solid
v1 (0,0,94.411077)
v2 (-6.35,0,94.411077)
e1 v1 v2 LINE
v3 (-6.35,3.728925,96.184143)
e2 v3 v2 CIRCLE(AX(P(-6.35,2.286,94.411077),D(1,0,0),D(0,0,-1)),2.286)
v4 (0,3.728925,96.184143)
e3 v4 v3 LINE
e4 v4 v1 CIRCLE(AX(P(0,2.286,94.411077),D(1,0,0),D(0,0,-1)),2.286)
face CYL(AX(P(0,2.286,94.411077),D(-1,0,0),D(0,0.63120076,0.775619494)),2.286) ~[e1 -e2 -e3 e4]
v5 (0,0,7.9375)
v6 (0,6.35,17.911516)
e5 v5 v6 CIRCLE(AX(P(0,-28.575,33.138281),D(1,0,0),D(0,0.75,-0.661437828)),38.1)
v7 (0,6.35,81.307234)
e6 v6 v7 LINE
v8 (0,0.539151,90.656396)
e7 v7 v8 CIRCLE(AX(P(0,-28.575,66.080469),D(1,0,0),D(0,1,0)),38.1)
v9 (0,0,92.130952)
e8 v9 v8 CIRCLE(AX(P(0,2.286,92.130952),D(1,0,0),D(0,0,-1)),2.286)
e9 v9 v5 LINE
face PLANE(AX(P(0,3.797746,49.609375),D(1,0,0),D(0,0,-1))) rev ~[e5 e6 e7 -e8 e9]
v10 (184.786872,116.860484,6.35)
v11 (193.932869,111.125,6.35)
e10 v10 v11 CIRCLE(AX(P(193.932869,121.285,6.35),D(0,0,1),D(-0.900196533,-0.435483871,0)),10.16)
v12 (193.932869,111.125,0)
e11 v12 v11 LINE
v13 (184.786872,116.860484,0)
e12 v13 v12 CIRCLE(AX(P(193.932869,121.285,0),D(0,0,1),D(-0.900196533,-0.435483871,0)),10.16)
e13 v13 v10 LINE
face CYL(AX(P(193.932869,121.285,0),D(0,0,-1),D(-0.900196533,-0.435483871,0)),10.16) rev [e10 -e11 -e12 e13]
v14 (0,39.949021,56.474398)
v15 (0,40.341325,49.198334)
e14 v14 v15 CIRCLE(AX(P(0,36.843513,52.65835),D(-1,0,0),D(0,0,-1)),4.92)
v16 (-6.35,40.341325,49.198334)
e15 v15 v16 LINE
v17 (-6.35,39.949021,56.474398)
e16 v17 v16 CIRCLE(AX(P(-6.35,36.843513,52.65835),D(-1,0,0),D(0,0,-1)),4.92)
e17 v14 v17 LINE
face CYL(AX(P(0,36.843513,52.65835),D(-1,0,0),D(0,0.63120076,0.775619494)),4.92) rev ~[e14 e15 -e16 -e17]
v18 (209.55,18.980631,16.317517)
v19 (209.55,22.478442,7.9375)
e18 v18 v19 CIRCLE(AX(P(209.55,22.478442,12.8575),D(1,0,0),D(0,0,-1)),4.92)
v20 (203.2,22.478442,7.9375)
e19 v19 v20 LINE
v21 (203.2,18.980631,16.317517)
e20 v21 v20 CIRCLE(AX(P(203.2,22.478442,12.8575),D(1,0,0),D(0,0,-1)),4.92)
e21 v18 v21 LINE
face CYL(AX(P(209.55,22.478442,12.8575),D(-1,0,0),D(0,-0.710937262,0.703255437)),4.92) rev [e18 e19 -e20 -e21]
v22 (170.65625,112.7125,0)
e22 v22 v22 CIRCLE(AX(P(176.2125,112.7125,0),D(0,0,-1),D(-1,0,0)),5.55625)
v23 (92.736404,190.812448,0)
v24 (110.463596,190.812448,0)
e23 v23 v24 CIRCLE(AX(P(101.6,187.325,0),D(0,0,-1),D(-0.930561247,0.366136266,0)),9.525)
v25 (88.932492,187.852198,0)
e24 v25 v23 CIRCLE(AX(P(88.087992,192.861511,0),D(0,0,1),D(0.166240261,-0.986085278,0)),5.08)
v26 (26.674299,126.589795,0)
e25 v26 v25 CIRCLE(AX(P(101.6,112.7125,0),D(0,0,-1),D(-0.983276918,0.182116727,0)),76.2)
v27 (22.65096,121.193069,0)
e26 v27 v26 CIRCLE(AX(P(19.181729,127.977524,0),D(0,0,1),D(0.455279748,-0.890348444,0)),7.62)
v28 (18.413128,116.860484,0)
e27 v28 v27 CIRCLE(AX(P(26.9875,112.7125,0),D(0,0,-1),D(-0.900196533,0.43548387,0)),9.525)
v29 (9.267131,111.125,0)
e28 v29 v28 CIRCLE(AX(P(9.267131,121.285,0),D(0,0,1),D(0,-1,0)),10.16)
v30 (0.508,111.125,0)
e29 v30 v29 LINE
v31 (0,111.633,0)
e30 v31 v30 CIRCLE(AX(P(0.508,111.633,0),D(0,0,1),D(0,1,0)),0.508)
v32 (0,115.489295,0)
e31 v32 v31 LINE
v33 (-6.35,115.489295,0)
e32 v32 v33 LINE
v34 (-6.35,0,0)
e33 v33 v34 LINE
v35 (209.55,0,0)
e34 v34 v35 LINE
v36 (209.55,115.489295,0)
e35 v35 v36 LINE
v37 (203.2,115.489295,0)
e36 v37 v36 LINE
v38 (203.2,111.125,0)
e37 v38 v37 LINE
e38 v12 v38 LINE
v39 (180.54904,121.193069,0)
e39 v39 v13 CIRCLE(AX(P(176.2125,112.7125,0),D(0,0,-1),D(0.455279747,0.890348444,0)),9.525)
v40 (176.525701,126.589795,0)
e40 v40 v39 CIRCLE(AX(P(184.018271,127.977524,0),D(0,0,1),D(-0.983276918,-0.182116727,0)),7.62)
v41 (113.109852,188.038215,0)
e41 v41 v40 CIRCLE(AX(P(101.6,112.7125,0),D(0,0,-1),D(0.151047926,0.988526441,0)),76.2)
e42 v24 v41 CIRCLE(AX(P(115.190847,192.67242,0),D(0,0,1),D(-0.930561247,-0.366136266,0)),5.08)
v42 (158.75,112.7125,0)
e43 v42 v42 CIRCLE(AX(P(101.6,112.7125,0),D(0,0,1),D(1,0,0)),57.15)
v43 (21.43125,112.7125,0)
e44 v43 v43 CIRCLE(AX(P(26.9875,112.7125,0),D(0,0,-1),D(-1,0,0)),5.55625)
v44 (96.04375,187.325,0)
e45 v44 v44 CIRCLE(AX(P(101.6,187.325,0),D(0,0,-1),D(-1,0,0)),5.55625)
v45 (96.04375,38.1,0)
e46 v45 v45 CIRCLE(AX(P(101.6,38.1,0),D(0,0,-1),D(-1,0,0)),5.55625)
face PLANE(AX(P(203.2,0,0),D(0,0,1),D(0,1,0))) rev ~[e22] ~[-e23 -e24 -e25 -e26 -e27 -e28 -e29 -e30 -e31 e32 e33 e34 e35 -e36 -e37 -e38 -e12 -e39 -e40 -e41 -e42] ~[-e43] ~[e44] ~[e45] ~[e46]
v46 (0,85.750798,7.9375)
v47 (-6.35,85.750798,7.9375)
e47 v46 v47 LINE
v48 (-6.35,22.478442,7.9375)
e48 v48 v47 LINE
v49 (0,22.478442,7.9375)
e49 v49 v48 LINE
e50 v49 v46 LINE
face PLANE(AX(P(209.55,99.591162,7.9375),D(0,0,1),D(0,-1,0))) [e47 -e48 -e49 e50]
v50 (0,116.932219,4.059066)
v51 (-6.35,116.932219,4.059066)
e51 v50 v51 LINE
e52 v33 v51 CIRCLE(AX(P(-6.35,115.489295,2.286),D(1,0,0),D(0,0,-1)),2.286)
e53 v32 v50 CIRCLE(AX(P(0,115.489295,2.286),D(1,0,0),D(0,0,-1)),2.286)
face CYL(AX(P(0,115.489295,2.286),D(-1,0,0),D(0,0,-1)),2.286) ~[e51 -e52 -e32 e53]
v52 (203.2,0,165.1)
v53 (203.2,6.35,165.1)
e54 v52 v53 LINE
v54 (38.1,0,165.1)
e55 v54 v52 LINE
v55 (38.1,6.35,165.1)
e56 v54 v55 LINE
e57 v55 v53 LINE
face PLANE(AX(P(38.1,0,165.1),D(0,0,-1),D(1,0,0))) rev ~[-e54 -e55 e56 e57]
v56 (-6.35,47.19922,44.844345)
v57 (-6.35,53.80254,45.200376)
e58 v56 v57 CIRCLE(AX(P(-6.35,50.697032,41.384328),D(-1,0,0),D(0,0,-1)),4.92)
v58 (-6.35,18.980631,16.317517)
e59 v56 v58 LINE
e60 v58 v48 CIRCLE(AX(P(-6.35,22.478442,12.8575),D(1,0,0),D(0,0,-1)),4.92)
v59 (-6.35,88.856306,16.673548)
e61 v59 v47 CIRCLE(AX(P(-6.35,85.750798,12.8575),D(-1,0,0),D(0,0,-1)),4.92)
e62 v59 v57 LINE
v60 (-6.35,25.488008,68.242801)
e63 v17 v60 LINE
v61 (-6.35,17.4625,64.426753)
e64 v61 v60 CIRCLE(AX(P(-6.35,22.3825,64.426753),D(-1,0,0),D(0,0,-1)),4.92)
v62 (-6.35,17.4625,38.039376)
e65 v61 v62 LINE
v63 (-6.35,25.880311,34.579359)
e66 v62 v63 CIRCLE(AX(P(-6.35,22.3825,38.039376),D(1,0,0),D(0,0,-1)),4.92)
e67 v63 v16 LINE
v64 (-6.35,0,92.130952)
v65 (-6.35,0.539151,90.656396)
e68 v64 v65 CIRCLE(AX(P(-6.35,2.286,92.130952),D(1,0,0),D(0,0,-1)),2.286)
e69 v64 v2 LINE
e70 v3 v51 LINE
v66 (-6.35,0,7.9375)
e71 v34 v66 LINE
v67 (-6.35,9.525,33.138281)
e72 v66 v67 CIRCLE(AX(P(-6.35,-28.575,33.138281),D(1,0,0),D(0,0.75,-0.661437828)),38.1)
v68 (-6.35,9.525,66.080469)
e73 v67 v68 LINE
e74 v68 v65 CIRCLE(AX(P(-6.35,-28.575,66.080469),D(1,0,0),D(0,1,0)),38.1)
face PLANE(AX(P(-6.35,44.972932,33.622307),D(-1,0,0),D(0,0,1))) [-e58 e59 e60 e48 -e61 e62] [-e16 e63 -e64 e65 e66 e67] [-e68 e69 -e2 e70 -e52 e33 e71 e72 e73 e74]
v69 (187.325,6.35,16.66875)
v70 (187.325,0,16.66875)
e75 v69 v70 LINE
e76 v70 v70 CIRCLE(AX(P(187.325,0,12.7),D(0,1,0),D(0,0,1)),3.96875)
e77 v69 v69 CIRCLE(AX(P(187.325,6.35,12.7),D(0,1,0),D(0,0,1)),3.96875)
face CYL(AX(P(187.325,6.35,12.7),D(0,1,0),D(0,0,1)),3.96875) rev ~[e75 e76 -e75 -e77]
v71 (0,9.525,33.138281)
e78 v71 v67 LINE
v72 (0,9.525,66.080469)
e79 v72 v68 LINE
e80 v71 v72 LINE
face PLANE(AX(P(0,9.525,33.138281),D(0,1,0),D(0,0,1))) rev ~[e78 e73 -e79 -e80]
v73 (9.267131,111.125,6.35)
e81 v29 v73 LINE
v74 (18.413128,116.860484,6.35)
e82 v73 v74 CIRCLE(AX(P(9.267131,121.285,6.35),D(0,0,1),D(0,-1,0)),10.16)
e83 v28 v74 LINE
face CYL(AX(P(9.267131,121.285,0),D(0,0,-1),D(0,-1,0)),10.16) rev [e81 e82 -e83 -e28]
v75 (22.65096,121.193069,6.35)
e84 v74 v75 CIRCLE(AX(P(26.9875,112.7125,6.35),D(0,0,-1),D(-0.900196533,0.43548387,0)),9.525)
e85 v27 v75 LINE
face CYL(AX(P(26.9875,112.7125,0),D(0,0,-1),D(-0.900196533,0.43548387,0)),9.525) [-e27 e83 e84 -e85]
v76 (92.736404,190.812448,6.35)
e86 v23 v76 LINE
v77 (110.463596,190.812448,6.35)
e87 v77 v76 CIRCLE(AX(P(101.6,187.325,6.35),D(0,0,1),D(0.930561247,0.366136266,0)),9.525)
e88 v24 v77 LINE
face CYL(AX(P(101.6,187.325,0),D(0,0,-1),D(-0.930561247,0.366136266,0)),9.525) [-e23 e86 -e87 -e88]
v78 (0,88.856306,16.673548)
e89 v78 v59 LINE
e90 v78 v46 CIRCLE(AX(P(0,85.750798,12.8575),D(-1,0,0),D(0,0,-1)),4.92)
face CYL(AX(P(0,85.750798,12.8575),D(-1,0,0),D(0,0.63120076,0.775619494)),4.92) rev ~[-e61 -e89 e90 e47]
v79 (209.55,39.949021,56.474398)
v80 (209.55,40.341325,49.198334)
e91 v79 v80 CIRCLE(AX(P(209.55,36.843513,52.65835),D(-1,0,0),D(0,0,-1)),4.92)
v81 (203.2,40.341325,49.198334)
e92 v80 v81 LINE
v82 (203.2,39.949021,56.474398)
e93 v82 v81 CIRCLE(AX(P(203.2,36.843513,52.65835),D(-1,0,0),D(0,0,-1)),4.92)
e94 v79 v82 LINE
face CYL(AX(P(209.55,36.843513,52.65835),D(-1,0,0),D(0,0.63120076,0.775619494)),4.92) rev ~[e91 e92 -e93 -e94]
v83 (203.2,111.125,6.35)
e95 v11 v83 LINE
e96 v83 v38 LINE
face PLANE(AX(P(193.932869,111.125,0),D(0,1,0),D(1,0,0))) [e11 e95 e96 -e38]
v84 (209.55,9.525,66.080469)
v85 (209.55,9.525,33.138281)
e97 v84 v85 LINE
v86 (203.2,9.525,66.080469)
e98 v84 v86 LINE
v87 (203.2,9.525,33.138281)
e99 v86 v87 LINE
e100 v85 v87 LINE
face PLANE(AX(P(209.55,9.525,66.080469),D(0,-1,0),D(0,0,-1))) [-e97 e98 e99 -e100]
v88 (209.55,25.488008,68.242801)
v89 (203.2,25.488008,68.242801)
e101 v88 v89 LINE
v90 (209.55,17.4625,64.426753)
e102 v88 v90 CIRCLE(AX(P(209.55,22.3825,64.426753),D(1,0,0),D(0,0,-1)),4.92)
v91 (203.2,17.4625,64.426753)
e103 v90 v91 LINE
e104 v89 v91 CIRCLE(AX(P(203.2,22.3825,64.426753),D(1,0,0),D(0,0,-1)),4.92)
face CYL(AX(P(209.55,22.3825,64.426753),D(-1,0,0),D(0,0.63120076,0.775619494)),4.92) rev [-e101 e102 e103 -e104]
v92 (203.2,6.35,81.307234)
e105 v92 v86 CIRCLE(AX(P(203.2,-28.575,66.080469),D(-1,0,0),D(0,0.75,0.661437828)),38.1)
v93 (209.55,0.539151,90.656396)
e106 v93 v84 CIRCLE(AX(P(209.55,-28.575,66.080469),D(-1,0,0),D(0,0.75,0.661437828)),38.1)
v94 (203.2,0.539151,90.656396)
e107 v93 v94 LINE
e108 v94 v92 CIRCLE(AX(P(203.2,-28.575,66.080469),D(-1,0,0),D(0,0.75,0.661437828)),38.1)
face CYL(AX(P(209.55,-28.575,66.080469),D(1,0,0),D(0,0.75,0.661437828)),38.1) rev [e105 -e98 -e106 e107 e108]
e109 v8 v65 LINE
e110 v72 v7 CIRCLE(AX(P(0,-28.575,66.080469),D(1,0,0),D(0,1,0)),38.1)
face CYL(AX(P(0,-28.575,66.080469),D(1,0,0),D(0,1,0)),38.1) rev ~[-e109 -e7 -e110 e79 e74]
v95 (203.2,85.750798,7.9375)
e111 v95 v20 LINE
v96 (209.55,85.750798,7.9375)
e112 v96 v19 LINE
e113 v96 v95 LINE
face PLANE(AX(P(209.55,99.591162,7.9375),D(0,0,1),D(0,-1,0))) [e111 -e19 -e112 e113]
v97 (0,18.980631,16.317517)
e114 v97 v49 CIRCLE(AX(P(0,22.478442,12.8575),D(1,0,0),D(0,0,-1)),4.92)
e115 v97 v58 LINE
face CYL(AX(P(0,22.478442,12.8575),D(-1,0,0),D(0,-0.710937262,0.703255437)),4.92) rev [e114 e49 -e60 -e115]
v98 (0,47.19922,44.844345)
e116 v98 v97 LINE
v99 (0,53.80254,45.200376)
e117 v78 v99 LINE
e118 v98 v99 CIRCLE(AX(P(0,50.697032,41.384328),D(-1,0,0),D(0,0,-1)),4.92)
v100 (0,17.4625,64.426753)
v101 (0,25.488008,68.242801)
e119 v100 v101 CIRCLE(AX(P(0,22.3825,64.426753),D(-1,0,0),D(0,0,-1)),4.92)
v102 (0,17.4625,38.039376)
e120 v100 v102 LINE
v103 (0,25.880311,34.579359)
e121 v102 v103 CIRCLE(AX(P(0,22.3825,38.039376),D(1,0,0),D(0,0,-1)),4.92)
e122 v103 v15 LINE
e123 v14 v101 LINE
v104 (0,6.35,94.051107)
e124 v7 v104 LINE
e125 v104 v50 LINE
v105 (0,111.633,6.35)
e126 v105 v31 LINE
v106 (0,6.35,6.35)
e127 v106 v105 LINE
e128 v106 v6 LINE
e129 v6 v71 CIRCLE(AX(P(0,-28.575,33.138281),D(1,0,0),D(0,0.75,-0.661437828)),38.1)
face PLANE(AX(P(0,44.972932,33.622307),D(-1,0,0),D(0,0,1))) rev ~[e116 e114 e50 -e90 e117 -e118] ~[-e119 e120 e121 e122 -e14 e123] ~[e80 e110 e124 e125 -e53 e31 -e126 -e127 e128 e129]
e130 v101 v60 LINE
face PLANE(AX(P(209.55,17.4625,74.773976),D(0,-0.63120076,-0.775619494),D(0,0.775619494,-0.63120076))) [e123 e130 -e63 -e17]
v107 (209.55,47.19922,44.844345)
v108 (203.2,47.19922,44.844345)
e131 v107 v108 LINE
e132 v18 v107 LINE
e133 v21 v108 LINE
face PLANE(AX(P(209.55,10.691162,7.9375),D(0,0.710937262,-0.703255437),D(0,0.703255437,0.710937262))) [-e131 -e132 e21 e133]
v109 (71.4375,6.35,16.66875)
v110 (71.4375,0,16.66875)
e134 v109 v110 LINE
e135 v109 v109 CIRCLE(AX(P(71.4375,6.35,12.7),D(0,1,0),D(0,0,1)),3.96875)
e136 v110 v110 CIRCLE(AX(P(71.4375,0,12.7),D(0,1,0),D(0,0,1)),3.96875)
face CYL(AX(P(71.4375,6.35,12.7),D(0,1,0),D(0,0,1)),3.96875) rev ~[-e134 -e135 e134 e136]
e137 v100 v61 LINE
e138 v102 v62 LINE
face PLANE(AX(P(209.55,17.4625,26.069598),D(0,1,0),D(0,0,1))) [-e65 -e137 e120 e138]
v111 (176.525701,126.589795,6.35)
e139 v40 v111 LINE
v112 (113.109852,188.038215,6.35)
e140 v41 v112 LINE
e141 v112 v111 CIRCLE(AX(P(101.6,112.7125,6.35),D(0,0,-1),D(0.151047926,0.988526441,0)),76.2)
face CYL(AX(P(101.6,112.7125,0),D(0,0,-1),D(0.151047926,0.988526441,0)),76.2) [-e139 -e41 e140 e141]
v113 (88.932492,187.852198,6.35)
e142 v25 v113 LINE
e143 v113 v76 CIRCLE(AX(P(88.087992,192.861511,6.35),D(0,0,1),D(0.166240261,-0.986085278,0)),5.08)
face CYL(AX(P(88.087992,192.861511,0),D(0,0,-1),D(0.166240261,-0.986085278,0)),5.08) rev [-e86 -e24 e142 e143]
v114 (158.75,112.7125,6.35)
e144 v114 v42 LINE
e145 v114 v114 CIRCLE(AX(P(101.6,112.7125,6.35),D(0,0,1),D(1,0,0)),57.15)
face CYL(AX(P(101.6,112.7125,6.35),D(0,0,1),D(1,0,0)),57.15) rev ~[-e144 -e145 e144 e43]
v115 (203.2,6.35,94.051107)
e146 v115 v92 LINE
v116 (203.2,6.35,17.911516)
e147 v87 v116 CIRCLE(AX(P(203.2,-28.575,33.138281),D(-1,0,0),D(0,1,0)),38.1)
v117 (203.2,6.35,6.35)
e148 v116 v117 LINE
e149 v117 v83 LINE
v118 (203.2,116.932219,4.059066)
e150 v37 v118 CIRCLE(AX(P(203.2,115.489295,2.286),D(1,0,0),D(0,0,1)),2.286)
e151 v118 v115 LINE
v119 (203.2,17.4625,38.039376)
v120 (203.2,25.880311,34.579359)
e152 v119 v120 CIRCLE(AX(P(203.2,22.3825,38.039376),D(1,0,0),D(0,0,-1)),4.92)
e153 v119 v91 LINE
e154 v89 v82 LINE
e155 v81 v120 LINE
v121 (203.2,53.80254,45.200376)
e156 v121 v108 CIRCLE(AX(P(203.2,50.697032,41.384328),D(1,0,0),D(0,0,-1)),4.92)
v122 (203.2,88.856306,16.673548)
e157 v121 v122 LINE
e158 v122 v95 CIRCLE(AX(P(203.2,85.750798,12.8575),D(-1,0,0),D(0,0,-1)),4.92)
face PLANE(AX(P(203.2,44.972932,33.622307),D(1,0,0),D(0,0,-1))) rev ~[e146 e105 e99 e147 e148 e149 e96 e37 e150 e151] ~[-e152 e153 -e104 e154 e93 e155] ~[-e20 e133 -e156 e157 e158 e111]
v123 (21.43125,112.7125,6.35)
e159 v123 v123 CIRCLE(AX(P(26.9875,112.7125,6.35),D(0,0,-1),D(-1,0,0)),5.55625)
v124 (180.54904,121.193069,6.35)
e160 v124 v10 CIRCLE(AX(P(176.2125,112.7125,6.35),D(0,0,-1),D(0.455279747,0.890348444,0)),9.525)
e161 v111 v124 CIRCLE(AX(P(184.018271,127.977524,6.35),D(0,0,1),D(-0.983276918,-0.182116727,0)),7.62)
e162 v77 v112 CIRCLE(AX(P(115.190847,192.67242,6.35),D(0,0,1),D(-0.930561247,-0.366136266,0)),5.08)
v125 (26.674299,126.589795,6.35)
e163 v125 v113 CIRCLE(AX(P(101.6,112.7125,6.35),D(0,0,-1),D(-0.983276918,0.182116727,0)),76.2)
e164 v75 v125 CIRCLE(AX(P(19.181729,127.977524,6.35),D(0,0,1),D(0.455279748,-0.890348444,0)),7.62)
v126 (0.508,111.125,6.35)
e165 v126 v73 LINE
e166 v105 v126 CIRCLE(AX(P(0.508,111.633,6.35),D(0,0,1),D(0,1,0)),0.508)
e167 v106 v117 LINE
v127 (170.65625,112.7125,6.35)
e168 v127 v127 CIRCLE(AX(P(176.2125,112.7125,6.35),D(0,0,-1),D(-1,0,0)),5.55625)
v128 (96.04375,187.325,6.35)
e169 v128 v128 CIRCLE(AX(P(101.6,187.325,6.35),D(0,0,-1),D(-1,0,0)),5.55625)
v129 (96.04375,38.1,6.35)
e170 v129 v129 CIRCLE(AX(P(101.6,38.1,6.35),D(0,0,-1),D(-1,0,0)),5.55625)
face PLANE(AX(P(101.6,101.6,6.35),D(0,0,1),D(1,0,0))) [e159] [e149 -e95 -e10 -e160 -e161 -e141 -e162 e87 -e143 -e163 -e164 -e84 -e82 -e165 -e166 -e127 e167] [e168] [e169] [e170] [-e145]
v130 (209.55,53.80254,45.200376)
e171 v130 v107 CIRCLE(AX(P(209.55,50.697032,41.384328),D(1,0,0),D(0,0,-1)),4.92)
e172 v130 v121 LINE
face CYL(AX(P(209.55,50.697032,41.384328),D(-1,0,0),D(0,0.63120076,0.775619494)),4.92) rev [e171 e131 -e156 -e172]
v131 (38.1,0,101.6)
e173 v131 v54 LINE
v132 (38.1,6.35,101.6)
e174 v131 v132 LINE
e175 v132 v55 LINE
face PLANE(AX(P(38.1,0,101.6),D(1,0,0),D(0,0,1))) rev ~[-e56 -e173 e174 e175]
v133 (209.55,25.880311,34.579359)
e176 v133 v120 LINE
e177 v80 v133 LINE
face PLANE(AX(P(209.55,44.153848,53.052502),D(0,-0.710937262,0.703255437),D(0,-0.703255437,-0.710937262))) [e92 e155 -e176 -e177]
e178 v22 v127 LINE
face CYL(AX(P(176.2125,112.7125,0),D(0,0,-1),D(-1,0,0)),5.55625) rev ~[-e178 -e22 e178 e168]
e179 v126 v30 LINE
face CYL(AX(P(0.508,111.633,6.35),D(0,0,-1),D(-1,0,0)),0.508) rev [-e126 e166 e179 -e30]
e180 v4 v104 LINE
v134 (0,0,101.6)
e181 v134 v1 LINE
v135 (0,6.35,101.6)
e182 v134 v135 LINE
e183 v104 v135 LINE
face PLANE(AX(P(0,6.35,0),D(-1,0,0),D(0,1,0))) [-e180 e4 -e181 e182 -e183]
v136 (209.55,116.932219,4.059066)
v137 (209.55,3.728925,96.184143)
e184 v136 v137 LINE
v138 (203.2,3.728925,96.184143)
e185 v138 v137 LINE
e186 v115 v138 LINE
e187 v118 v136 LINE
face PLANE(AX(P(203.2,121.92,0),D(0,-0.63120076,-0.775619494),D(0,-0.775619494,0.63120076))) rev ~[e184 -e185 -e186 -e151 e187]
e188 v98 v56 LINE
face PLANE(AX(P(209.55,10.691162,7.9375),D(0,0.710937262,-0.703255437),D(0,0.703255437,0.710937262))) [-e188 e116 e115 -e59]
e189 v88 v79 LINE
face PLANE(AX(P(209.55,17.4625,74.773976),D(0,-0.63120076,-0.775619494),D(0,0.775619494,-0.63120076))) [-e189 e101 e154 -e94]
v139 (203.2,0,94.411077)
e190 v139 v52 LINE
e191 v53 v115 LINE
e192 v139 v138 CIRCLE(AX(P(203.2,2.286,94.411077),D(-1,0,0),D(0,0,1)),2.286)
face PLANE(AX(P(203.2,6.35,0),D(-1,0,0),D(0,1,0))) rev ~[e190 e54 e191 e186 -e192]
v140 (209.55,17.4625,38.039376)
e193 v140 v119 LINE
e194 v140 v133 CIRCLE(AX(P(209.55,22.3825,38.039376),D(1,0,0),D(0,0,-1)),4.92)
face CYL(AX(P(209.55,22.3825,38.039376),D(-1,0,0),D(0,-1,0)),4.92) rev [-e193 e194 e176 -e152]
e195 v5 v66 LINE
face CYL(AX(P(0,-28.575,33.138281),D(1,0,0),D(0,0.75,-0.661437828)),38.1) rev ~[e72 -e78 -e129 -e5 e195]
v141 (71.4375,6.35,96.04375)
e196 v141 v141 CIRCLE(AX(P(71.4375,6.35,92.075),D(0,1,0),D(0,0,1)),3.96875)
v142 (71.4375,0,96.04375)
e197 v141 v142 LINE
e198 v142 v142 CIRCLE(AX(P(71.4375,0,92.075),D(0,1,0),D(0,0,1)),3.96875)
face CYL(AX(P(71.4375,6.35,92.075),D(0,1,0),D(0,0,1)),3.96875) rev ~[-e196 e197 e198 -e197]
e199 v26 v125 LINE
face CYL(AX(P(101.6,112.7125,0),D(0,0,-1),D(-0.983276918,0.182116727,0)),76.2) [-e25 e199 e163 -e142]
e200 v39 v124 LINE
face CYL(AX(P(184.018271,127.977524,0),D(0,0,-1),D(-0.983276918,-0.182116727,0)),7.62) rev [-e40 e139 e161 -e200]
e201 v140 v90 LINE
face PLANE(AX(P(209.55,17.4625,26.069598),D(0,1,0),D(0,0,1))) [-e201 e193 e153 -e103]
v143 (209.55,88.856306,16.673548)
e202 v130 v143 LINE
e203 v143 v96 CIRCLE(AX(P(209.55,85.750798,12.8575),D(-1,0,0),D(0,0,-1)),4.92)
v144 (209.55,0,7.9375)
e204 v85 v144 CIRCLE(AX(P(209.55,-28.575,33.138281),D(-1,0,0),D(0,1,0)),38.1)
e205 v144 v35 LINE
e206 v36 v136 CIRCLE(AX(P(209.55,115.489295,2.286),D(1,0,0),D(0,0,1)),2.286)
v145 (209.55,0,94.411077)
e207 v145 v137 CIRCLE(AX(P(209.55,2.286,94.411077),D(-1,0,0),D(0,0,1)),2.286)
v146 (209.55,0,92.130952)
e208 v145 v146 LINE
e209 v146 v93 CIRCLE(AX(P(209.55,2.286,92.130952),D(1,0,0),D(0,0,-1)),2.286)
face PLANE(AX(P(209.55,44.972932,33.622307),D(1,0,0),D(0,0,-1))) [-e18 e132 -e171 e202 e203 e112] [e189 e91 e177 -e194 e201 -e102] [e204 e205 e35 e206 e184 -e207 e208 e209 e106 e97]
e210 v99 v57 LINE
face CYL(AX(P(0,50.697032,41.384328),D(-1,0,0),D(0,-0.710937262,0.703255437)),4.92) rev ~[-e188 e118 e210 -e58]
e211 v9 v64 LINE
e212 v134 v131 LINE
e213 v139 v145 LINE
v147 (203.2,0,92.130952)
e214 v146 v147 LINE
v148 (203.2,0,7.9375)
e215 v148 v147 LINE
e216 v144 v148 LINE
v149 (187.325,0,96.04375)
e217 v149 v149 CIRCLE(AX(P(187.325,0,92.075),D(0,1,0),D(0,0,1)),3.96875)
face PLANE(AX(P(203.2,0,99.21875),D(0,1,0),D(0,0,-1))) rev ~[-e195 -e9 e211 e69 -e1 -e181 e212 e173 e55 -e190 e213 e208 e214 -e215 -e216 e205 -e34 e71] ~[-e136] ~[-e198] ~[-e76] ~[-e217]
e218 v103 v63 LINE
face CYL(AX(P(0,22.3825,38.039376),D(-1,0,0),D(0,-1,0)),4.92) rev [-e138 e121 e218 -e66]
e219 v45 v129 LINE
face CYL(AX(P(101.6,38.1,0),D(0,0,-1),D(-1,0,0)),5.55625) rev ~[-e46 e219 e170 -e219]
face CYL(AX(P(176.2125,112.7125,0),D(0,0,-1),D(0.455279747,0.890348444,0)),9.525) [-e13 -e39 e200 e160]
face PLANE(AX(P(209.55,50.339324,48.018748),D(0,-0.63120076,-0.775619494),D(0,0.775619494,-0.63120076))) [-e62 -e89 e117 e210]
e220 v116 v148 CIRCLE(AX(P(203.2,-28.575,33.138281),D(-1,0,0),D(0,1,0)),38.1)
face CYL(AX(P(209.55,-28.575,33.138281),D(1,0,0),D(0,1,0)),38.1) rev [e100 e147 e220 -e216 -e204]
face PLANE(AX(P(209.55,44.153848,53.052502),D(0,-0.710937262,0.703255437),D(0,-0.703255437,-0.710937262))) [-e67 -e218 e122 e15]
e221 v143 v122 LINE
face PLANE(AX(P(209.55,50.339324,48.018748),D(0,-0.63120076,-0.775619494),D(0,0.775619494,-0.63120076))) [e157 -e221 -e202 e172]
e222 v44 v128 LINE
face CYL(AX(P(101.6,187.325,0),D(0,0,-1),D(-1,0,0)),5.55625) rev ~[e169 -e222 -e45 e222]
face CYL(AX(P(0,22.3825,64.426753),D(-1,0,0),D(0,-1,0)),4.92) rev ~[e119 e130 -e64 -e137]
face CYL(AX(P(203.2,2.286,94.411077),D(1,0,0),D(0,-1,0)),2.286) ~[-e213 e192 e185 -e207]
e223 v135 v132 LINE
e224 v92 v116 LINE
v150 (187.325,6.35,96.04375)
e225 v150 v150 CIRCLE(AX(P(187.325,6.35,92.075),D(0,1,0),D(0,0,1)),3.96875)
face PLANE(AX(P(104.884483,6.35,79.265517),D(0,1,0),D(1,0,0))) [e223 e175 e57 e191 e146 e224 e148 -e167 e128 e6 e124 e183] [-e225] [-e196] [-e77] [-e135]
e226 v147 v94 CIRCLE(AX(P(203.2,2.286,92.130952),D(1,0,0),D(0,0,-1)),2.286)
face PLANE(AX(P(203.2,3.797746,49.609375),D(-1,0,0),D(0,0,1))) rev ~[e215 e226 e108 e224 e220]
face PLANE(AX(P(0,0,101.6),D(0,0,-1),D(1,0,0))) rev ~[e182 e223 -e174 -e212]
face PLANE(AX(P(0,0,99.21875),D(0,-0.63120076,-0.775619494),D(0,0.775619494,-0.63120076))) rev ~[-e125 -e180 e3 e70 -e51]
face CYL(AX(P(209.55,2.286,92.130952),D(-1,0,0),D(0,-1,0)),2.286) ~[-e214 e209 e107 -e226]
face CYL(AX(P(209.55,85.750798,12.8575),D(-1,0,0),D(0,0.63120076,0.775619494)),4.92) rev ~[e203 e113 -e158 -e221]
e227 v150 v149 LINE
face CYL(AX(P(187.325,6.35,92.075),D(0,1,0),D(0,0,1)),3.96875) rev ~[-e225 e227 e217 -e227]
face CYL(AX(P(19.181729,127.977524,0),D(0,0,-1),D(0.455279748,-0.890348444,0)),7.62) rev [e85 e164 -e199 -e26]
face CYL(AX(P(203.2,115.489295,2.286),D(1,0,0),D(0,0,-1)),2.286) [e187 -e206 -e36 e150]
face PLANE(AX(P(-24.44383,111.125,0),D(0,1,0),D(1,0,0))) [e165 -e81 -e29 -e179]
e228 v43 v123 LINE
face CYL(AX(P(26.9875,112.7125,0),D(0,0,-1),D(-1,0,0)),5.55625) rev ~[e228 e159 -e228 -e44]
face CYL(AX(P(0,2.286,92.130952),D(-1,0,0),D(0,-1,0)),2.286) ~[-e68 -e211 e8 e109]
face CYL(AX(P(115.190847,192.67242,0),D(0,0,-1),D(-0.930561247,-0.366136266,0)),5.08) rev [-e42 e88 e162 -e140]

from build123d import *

# Parameters (mm, degrees)
BOSS_EXTRUDE1_DEPTH = 6.35
SKETCH3_W           = 203.2
SKETCH3_H           = 190.5
BOSS_EXTRUDE2_DEPTH = 6.35
SKETCH4_R           = 57.15
CUT_EXTRUDE1_DEPTH  = 6.35
SKETCH5_R           = 5.55625
CUT_EXTRUDE2_DEPTH  = 6.35
CUT_EXTRUDE3_DEPTH  = 6.35
SKETCH7_R           = 3.96875
CUT_EXTRUDE4_DEPTH  = 6.35
BOSS_EXTRUDE3_DEPTH = 6.35
BOSS_EXTRUDE4_DEPTH = 6.35
CUT_EXTRUDE5_DEPTH  = 6.35
CUT_EXTRUDE6_START  = -6.35
CUT_EXTRUDE6_DEPTH  = 6.35
CUT_EXTRUDE7_DEPTH  = 336.590140648
FILLET1_R           = 4.92
FILLET4_R           = 2.286
FILLET6_R           = 0.508


with BuildPart() as part:
    # Sketch2 → Boss-Extrude1 (new body)
    with BuildSketch(Plane(origin=(0, 0, 0), x_dir=(1, 0, 0), z_dir=(0, 1, 0))):
        Polygon((0, 0), (0, -101.6), (38.1, -101.6), (38.1, -165.1), (203.2, -165.1), (203.2, 0), align=None)
    extrude(amount=BOSS_EXTRUDE1_DEPTH)

    # Sketch3 → Boss-Extrude2 (add)
    with BuildSketch(Plane.XY):
        with Locations((101.6, 101.6)):
            Rectangle(SKETCH3_W, SKETCH3_H)
    extrude(amount=BOSS_EXTRUDE2_DEPTH)

    # Sketch4 → Cut-Extrude1 (cut)
    with BuildSketch(Plane.XY.offset(6.35)):
        with Locations((101.6, 112.7125)):
            Circle(SKETCH4_R)
    extrude(amount=-CUT_EXTRUDE1_DEPTH, mode=Mode.SUBTRACT)

    # Sketch5 → Cut-Extrude2 (cut)
    with BuildSketch(Plane(origin=(0, 0, 0), x_dir=(-1, 0, 0), z_dir=(0, 0, -1))):
        with Locations((-101.6, 38.1)):
            Circle(SKETCH5_R)
        with Locations((-101.6, 187.325)):
            Circle(SKETCH5_R)
        with Locations((-26.9875, 112.7125)):
            Circle(SKETCH5_R)
        with Locations((-176.2125, 112.7125)):
            Circle(SKETCH5_R)
    extrude(amount=-CUT_EXTRUDE2_DEPTH, mode=Mode.SUBTRACT)

    # Sketch6 → Cut-Extrude3 (cut)
    with BuildSketch(Plane(origin=(0, 0, 0), x_dir=(-1, 0, 0), z_dir=(0, 0, -1))):
        with BuildLine():
            Line((0, 111.125), (-9.267131247, 111.125))
            ThreePointArc((-9.267131247, 111.125), (-14.664932472, 112.677483405), (-18.413128023, 116.860483871))
            ThreePointArc((-18.413128023, 116.860483871), (-20.178261221, 119.372822234), (-22.650960402, 121.193068926))
            ThreePointArc((-22.650960402, 121.193068926), (-25.290856048, 123.423079717), (-26.674298839, 126.589794607))
            ThreePointArc((-26.674298839, 126.589794607), (-48.154578398, 167.02665018), (-88.932492132, 187.852198192))
            ThreePointArc((-88.932492132, 187.852198192), (-91.207894338, 188.852445809), (-92.736404121, 190.812447935))
            ThreePointArc((-92.736404121, 190.812447935), (-101.6, 196.85), (-110.463595879, 190.812447935))
            ThreePointArc((-110.463595879, 190.812447935), (-111.514959841, 189.166103939), (-113.109851938, 188.038214788))
            ThreePointArc((-113.109851938, 188.038214788), (-154.625968125, 167.436230725), (-176.525701161, 126.589794607))
            ThreePointArc((-176.525701161, 126.589794607), (-177.909143952, 123.423079717), (-180.549039598, 121.193068926))
            ThreePointArc((-180.549039598, 121.193068926), (-183.021738779, 119.372822234), (-184.786871977, 116.860483871))
            ThreePointArc((-184.786871977, 116.860483871), (-188.535067528, 112.677483405), (-193.932868753, 111.125))
            Line((-193.932868753, 111.125), (-203.2, 111.125))
            Line((-203.2, 111.125), (-224.605111479, 111.125))
            Line((-224.605111479, 111.125), (-224.605111479, 212.995219786))
            Line((-224.605111479, 212.995219786), (24.443830007, 212.995219786))
            Line((24.443830007, 212.995219786), (24.443830007, 111.125))
            Line((24.443830007, 111.125), (0, 111.125))
        make_face()
    extrude(amount=-CUT_EXTRUDE3_DEPTH, mode=Mode.SUBTRACT)

    # Sketch7 → Cut-Extrude4 (cut)
    with BuildSketch(Plane(origin=(0, 6.35, 0), x_dir=(1, 0, 0), z_dir=(0, 1, 0))):
        with Locations(Location((187.325, -92.075, 0), (0, 0, 270))):
            Circle(SKETCH7_R)
        with Locations(Location((187.325, -12.7, 0), (0, 0, 270))):
            Circle(SKETCH7_R)
        with Locations(Location((71.4375, -12.7, 0), (0, 0, 270))):
            Circle(SKETCH7_R)
        with Locations(Location((71.4375, -92.075, 0), (0, 0, 270))):
            Circle(SKETCH7_R)
    extrude(amount=-CUT_EXTRUDE4_DEPTH, mode=Mode.SUBTRACT)

    # Sketch8 → Boss-Extrude3 (add)
    with BuildSketch(Plane(origin=(0, 0, 0), x_dir=(0, 0, -1), z_dir=(1, 0, 0))):
        Polygon((0, 0), (-99.21875, 0), (0, 121.92), align=None)
    extrude(amount=-BOSS_EXTRUDE3_DEPTH)

    # Sketch10 → Boss-Extrude4 (add)
    with BuildSketch(Plane(origin=(203.2, 0, 0), x_dir=(0, 0, -1), z_dir=(1, 0, 0))):
        Polygon((-99.21875, 0), (0, 0), (0, 121.92), align=None)
    extrude(amount=BOSS_EXTRUDE4_DEPTH)

    # Sketch11 → Cut-Extrude5 (cut)
    with BuildSketch(Plane(origin=(209.55, 0, 0), x_dir=(0, 0, -1), z_dir=(1, 0, 0))):
        with BuildLine():
            Line((-7.9375, 0), (-91.28125, 0))
            ThreePointArc((-91.28125, 0), (-79.550852944, 7.064286609), (-66.080468762, 9.525))
            Line((-66.080468762, 9.525), (-33.138281238, 9.525))
            ThreePointArc((-33.138281238, 9.525), (-19.667897056, 7.064286609), (-7.9375, 0))
        make_face()
    extrude(amount=-CUT_EXTRUDE5_DEPTH, mode=Mode.SUBTRACT)

    # Sketch12 → Cut-Extrude6 (cut)
    with BuildSketch(Plane.ZY.offset(6.35).offset(CUT_EXTRUDE6_START)):
        with BuildLine():
            Line((91.28125, 0), (7.9375, 0))
            ThreePointArc((7.9375, 0), (19.667897056, 7.064286609), (33.138281238, 9.525))
            Line((33.138281238, 9.525), (66.080468762, 9.525))
            ThreePointArc((66.080468762, 9.525), (79.550852944, 7.064286609), (91.28125, 0))
        make_face()
    extrude(amount=CUT_EXTRUDE6_DEPTH, mode=Mode.SUBTRACT)

    # Sketch13 → Cut-Extrude7 (cut, through all)
    with BuildSketch(Plane(origin=(209.55, 0, 0), x_dir=(0, 0, -1), z_dir=(1, 0, 0))):
        Polygon((-7.9375, 99.591161664), (-7.9375, 10.691161664), (-48.018748286, 50.339323771), align=None)
        Polygon((-53.052501721, 44.153847549), (-26.069598319, 17.4625), (-74.773975963, 17.4625), align=None)
    extrude(amount=-CUT_EXTRUDE7_DEPTH, mode=Mode.SUBTRACT)

    # Fillet1
    fillet1_edges = [part.edges().sort_by_distance(p)[0] for p in [
        (206.375, 50.339323771, 48.018748286),
        (-3.175, 50.339323771, 48.018748286),
        (206.375, 99.591161664, 7.9375),
        (-3.175, 99.591161664, 7.9375),
        (206.375, 10.691161664, 7.9375),
        (-3.175, 10.691161664, 7.9375),
        (206.375, 44.153847549, 53.052501721),
        (-3.175, 44.153847549, 53.052501721),
        (206.375, 17.4625, 26.069598319),
        (-3.175, 17.4625, 26.069598319),
        (206.375, 17.4625, 74.773975963),
        (-3.175, 17.4625, 74.773975963),
    ]]
    fillet(fillet1_edges, radius=FILLET1_R)

    # Fillet4
    fillet4_edges = [part.edges().sort_by_distance(p)[0] for p in [
        (-3.175, 121.92, 0),
        (-3.175, 0, 99.21875),
        (206.375, 121.92, 0),
        (206.375, 0, 99.21875),
        (206.375, 0, 91.28125),
        (-3.175, 0, 91.28125),
    ]]
    fillet(fillet4_edges, radius=FILLET4_R)

    # Fillet6
    fillet6_edges = [part.edges().sort_by_distance(p)[0] for p in [
        (0, 111.125, 3.175),
    ]]
    fillet(fillet6_edges, radius=FILLET6_R)


solid = part.part
